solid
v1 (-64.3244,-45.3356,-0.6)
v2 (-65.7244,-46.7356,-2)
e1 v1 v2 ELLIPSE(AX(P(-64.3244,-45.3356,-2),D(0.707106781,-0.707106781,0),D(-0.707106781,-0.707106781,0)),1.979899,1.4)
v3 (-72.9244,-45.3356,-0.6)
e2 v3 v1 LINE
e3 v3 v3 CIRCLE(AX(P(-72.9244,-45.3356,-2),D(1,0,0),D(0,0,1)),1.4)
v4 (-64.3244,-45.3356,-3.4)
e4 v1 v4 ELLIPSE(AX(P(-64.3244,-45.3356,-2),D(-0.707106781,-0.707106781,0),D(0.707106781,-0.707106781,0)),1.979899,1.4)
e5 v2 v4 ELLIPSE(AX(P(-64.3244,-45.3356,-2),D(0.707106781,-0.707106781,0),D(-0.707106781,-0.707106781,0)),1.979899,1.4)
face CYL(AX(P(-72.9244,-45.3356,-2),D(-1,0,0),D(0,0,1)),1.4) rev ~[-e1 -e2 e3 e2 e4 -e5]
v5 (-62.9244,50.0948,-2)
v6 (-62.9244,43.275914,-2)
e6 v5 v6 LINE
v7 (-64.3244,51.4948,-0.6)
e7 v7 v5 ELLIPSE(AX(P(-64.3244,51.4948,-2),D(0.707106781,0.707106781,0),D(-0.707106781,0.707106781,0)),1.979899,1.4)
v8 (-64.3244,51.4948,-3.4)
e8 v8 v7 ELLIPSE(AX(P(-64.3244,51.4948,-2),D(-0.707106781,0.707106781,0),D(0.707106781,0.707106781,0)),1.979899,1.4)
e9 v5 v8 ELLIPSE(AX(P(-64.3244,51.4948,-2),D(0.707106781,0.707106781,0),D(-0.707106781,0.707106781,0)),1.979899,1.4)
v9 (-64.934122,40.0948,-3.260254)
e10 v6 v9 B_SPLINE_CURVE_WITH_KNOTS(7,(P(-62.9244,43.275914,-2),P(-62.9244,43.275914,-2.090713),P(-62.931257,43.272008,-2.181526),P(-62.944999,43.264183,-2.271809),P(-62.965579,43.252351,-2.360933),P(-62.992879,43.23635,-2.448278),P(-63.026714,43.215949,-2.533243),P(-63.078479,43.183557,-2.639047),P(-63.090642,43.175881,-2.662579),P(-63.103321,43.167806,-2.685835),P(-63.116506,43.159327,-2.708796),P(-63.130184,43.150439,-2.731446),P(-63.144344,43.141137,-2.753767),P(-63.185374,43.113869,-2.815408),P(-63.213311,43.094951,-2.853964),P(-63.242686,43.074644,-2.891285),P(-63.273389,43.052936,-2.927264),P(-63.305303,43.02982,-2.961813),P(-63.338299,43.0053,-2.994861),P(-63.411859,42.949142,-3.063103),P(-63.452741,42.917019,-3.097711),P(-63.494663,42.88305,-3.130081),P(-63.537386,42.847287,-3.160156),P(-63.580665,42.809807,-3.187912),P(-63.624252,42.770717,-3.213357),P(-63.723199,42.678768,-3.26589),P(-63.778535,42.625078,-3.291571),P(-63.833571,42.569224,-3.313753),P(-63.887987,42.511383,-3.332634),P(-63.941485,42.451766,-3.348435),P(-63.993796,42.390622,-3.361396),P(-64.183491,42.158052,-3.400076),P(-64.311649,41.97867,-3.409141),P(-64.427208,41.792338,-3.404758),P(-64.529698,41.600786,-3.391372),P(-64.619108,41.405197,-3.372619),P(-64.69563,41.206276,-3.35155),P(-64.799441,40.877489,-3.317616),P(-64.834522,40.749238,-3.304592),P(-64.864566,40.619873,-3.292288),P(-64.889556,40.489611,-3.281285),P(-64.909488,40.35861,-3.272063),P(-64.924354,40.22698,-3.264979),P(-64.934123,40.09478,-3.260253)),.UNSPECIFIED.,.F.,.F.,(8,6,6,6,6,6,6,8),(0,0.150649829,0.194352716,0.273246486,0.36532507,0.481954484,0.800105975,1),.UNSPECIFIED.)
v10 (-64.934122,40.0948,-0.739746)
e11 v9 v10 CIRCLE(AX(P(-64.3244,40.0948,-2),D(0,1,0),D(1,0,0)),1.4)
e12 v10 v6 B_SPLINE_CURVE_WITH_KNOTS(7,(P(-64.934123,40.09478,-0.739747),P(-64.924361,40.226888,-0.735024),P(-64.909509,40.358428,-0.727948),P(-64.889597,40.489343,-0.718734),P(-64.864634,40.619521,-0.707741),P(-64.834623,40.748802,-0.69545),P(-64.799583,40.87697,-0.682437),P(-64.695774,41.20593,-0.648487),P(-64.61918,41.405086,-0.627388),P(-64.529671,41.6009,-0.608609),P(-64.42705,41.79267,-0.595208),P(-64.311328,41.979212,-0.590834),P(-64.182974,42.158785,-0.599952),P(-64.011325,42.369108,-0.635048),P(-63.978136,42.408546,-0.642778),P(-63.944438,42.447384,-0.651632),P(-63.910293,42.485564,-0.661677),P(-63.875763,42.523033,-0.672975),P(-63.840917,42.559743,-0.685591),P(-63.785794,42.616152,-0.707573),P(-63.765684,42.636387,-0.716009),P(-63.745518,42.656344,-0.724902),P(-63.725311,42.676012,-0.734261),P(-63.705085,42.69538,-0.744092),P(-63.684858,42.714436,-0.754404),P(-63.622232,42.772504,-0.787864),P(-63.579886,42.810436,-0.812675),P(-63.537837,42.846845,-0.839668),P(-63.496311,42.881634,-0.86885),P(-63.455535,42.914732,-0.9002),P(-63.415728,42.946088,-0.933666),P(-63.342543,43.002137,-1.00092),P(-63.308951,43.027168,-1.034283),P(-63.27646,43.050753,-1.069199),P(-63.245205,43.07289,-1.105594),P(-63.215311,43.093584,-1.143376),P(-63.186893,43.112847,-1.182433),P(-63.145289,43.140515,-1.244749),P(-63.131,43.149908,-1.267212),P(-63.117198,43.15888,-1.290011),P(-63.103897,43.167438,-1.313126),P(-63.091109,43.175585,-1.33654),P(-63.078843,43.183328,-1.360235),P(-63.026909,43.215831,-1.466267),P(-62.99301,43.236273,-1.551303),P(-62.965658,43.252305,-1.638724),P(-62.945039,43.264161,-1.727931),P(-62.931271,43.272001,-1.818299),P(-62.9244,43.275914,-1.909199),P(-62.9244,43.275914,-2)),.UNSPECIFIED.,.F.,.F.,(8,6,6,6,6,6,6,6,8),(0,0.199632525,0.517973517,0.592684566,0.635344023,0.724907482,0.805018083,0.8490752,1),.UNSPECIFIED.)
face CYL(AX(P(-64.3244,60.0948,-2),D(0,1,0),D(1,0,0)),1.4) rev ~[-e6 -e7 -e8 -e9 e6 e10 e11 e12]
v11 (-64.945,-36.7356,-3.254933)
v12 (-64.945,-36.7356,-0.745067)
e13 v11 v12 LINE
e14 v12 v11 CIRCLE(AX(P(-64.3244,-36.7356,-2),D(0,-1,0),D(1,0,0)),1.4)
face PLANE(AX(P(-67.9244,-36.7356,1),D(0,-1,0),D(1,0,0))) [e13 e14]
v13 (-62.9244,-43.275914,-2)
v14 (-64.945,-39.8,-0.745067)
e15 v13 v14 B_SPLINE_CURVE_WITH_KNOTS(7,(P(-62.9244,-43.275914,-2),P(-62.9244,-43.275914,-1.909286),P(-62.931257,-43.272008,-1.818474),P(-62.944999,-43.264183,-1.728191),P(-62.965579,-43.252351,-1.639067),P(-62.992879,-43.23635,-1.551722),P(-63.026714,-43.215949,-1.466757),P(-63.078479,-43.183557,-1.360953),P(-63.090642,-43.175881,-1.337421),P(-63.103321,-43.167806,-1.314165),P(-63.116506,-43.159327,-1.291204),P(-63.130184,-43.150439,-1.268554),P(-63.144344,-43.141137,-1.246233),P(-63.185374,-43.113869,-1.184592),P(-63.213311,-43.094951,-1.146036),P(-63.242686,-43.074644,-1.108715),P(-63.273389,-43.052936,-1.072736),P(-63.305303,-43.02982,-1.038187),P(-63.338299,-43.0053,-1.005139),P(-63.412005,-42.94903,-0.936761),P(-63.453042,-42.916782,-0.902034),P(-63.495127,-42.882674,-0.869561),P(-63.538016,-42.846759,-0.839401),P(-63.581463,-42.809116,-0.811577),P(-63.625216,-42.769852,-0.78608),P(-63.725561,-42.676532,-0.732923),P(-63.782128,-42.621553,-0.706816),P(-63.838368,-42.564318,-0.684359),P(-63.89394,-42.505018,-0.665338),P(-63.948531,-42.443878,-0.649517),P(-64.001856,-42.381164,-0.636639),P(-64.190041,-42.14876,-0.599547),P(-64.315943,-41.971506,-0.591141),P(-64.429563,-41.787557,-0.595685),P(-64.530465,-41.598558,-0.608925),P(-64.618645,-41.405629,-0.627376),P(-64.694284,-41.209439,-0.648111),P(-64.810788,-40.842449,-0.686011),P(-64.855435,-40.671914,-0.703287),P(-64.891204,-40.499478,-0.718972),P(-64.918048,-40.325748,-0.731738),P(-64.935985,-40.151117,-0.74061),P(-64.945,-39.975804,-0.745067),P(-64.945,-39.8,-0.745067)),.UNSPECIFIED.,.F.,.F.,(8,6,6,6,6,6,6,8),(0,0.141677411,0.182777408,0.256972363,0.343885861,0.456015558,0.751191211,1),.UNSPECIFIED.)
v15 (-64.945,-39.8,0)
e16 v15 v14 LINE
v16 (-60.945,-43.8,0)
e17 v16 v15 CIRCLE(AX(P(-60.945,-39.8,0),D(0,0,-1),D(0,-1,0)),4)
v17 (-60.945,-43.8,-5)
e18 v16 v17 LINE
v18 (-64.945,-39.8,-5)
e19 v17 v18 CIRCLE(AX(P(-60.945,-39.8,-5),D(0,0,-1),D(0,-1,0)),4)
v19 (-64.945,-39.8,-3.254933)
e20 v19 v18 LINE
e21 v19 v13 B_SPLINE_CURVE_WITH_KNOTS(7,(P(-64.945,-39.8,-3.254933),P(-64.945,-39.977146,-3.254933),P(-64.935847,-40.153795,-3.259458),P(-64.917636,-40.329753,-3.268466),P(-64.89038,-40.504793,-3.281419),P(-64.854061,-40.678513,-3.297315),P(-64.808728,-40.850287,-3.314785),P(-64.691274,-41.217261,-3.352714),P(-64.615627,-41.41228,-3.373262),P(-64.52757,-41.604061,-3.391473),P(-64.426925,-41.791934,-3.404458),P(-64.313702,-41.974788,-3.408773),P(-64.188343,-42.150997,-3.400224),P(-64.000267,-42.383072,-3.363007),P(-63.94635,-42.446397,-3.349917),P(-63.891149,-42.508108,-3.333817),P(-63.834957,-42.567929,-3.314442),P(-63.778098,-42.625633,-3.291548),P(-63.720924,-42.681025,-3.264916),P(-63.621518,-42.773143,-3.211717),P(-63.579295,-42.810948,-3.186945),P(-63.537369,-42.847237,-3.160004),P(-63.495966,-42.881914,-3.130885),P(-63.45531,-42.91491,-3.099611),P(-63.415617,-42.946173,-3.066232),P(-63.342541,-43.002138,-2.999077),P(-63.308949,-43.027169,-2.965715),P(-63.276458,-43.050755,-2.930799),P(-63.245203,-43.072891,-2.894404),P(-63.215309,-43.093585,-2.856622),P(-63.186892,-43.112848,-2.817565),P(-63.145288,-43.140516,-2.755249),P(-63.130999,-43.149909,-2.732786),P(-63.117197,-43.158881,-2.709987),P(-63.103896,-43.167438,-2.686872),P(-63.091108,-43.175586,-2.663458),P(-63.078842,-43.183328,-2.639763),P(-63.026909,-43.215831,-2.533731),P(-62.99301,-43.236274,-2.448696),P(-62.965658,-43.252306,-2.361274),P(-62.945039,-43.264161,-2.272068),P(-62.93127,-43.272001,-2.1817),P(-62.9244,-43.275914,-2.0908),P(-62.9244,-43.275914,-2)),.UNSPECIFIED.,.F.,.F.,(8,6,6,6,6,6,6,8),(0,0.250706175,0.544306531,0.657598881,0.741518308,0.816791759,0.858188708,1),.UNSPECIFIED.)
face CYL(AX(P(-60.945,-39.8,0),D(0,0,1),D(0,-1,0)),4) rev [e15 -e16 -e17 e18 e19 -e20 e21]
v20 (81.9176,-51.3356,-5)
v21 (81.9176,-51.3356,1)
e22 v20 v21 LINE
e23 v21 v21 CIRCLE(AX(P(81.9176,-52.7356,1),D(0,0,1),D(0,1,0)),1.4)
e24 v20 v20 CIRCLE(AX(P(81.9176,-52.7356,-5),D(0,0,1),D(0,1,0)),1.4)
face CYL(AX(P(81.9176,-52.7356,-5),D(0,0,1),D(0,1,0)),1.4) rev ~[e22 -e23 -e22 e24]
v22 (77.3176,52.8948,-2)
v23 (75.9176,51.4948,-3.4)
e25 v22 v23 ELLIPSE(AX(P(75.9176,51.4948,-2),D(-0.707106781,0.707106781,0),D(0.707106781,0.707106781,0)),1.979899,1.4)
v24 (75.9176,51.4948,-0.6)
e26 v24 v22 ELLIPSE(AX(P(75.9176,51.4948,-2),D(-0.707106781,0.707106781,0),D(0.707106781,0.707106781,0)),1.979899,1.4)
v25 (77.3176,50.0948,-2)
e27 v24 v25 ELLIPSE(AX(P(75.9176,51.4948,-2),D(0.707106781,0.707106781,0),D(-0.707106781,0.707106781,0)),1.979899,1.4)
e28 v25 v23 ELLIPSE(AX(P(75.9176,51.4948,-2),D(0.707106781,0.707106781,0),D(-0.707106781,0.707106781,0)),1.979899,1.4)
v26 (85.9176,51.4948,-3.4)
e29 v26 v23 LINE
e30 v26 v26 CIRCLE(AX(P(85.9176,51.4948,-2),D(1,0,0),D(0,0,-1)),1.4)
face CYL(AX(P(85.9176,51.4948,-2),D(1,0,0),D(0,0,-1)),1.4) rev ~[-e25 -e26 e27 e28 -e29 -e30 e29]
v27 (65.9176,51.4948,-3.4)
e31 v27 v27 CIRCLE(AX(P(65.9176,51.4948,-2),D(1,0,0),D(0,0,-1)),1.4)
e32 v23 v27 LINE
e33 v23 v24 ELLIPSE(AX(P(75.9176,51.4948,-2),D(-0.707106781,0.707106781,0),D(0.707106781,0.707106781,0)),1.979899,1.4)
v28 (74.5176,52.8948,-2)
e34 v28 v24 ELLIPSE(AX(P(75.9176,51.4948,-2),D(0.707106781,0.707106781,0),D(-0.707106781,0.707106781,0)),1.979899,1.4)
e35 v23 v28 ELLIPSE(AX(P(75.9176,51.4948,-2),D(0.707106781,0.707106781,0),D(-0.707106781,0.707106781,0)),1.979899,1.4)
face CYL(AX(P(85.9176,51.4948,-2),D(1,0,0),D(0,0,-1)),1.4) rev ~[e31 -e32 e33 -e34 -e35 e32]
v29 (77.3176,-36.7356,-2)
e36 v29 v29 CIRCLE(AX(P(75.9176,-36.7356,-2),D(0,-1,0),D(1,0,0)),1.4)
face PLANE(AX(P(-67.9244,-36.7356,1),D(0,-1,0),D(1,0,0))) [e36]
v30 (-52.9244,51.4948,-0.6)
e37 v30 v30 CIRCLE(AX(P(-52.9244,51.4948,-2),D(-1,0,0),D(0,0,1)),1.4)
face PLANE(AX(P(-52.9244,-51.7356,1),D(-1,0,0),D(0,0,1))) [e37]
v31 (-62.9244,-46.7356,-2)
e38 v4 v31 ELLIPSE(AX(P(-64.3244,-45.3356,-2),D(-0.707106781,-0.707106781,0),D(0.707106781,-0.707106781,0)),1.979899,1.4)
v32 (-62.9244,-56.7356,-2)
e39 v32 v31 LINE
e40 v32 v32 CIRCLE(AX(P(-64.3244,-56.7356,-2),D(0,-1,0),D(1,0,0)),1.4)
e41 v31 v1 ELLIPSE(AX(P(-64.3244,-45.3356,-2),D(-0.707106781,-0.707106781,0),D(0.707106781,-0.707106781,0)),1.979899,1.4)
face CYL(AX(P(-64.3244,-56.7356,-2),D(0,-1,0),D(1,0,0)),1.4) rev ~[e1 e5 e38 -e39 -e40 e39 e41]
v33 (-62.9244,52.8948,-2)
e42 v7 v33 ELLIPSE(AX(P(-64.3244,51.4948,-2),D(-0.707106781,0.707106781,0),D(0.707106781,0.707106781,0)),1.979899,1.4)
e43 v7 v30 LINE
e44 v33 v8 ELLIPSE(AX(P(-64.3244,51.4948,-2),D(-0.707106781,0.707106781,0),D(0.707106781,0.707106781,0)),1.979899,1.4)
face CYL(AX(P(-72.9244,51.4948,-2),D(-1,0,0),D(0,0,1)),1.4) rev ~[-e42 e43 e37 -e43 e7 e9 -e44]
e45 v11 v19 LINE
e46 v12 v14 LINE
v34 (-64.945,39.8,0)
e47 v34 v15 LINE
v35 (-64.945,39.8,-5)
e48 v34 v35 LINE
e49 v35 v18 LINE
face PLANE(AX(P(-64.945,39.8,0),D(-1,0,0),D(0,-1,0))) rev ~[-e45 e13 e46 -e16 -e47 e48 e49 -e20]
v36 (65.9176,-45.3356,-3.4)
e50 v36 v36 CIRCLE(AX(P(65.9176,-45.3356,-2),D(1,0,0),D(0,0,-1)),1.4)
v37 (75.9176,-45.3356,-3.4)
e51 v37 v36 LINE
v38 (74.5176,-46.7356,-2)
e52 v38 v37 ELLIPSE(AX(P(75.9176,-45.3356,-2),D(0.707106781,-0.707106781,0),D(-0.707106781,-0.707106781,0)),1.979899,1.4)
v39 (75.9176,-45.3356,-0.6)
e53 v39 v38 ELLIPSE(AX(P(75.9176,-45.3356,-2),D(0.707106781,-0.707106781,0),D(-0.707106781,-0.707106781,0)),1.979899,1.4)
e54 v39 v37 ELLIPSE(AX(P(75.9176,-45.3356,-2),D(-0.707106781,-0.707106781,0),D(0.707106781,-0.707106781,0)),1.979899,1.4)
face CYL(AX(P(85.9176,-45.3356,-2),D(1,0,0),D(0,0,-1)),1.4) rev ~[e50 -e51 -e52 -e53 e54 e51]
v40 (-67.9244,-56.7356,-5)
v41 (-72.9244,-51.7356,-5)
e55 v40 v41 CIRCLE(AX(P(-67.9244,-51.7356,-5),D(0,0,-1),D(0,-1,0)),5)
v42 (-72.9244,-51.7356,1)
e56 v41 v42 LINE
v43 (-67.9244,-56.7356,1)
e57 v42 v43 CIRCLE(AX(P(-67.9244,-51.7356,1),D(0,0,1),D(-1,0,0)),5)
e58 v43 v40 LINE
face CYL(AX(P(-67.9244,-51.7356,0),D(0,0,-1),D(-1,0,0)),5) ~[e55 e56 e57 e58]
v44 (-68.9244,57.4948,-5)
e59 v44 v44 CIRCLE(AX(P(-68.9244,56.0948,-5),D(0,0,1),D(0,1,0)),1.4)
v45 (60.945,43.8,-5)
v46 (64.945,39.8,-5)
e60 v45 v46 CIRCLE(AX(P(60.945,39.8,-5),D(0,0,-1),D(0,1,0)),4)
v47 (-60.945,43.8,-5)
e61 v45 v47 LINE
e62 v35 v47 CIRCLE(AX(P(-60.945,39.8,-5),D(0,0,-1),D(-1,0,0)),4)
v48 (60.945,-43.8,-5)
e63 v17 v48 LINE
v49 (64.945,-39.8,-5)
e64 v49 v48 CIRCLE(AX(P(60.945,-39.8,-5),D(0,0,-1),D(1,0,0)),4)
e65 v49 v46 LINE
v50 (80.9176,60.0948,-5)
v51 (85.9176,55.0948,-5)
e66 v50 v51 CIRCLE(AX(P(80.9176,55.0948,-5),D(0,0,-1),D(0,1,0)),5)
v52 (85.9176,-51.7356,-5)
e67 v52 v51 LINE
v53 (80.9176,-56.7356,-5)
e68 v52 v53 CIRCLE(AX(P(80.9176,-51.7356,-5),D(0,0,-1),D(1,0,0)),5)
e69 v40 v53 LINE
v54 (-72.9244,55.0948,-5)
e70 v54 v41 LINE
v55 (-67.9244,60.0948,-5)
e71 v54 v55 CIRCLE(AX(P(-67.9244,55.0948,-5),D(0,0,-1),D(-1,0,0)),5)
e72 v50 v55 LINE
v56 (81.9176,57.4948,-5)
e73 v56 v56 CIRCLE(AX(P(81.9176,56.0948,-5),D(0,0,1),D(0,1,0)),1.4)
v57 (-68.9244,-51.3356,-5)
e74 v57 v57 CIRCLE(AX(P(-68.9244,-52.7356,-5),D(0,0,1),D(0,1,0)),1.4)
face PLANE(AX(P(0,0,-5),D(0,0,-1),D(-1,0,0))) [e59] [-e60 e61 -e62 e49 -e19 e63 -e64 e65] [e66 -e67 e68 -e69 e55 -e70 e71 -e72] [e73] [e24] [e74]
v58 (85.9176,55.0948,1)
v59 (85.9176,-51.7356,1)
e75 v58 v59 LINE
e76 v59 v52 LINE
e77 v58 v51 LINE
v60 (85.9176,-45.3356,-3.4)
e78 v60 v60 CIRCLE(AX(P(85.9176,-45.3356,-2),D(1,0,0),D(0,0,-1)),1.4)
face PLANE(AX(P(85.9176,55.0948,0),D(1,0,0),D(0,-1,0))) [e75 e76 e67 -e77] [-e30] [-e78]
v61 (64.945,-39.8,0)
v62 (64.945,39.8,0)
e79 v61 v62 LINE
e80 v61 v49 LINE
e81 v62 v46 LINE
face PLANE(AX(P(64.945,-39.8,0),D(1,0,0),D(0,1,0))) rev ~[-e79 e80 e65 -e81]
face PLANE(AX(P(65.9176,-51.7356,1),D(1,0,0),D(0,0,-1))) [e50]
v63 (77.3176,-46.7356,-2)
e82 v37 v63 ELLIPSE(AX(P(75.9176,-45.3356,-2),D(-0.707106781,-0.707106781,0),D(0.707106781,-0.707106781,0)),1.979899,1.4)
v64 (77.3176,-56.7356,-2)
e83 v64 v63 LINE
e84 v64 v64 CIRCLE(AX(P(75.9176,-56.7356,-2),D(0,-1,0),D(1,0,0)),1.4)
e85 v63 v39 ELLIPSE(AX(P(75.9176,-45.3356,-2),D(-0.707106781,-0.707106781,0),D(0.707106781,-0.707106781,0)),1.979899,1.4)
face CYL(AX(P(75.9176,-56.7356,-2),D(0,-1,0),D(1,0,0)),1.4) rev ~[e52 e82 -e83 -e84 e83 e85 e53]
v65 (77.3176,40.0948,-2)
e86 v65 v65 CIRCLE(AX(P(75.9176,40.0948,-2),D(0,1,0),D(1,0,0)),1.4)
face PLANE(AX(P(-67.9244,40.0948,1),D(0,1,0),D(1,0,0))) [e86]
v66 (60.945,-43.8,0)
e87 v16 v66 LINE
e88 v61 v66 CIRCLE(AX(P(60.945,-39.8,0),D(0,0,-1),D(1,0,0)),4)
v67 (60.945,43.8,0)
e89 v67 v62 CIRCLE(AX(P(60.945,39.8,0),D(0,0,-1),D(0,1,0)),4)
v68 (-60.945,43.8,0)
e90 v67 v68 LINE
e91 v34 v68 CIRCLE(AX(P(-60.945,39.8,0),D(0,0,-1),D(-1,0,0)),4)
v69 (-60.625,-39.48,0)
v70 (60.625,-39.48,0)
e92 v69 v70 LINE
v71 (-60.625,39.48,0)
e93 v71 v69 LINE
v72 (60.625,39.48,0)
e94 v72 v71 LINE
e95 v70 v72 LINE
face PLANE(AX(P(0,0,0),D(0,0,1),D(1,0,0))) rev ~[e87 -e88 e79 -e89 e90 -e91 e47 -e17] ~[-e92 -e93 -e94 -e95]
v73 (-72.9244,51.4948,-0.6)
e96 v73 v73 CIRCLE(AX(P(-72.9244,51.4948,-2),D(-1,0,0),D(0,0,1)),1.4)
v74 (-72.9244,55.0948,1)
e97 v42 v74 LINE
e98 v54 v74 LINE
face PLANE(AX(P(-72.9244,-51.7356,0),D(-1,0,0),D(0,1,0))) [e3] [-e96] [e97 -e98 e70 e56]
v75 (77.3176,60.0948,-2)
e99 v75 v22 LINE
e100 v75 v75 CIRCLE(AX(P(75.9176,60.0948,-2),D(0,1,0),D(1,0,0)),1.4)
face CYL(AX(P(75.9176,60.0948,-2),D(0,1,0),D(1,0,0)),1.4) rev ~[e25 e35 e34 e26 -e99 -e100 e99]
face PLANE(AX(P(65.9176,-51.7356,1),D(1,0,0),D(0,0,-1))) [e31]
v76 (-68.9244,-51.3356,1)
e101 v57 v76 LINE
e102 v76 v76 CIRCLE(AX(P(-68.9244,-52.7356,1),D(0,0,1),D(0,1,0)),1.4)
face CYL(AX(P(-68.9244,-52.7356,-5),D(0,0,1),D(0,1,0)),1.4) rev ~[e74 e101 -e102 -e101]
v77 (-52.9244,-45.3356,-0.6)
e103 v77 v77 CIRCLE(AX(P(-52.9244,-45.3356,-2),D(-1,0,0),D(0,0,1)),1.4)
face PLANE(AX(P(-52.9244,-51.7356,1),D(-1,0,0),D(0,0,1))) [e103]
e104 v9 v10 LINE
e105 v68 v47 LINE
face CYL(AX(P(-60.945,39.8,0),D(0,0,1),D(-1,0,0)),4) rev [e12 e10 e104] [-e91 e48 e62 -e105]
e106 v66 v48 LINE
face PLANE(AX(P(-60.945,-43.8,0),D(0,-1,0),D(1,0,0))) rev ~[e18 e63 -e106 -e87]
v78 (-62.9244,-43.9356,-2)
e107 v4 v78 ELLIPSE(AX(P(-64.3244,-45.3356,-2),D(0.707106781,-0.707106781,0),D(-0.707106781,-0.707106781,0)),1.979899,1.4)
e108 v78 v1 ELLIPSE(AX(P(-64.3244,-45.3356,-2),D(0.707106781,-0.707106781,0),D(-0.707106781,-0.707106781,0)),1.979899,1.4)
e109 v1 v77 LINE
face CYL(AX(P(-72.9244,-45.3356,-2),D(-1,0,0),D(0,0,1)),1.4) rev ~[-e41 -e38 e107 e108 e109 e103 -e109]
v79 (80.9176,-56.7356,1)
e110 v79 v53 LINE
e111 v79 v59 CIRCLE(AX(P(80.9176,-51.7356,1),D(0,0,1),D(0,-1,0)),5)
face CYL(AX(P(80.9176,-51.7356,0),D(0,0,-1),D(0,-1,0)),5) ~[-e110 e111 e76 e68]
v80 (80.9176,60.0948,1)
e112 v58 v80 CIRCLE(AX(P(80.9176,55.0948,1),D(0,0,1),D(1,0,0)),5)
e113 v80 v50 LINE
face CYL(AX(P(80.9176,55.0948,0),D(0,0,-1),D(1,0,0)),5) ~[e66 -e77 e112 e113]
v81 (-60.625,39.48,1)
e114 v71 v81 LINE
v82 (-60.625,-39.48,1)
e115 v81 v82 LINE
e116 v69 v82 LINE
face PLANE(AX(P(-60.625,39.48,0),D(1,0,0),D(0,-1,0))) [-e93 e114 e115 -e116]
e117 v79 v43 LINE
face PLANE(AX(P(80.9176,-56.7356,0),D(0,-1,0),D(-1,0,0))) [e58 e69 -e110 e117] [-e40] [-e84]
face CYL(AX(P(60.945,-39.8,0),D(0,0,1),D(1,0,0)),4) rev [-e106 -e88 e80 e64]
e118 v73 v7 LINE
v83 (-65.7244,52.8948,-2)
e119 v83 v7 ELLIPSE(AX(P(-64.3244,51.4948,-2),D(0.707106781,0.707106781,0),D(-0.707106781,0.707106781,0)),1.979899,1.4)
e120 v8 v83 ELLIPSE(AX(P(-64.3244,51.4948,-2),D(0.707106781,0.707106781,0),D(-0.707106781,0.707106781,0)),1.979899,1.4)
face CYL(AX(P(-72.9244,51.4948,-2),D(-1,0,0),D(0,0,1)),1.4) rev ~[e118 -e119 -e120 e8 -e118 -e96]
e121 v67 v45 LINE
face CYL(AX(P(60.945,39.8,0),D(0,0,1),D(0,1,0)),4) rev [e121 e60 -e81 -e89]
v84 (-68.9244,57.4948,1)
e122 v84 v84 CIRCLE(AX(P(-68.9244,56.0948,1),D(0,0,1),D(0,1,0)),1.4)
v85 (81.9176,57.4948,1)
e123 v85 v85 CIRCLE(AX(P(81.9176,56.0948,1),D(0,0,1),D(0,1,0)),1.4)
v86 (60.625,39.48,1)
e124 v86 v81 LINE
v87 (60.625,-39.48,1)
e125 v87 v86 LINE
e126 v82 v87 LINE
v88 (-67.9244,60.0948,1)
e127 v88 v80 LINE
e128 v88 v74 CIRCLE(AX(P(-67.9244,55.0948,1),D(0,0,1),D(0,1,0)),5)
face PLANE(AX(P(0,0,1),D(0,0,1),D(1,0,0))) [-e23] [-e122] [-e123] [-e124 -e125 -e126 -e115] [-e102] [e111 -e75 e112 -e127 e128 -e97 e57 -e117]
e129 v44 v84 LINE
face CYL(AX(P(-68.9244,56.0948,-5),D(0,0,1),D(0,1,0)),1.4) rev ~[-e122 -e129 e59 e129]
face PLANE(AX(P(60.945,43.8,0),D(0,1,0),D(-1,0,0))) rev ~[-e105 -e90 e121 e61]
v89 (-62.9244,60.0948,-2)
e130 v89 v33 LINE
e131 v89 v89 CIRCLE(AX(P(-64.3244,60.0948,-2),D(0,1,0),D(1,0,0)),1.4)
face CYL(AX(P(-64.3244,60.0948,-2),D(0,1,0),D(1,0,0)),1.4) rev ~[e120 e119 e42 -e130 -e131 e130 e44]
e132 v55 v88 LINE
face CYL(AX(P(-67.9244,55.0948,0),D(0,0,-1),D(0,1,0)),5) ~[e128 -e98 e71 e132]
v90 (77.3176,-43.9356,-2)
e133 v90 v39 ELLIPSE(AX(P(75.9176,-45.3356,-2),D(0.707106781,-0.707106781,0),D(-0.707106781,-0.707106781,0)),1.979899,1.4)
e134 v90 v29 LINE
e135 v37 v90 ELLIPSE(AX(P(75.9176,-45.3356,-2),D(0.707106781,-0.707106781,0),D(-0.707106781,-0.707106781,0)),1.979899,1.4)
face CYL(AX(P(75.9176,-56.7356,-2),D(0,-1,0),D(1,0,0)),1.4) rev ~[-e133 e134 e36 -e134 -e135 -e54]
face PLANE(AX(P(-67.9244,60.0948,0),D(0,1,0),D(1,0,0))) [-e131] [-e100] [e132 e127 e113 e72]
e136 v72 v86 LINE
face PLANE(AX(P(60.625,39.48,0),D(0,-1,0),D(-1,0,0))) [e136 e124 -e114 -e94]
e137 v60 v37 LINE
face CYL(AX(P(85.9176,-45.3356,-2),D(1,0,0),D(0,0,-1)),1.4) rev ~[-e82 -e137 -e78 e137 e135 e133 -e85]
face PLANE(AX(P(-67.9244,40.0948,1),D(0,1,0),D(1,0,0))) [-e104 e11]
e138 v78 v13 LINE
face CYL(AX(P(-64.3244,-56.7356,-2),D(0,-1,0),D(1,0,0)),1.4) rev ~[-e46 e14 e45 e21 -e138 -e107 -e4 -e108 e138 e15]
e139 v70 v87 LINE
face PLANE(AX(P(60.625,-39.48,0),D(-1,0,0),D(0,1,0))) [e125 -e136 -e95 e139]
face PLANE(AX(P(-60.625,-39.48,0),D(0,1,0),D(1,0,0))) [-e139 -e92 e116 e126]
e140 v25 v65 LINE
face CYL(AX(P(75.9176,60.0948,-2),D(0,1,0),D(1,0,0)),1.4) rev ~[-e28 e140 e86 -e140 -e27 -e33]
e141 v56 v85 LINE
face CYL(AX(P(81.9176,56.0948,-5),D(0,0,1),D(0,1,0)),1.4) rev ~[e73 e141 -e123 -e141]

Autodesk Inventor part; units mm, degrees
ref_plane "YZ Plane" through (0, 0, 0) normal (1, 0, 0) x (0, 1, 0)
ref_plane "XZ Plane" through (0, 0, 0) normal (0, 1, 0) x (-1, 0, 0)
ref_plane "XY Plane" through (0, 0, 0) normal (0, 0, 1) x (1, 0, 0)
sketch "Skizze1" plane through (0, 0, 0) normal (0, 0, 1) x (1, 0, 0)
  line L0 (63.945, 39.8) -> (63.945, -39.8) construction
  arc A0 (63.945, 39.8) -> (60.945, 42.8) centre (60.945, 39.8) ccw construction
  line L1 (-60.945, 42.8) -> (60.945, 42.8) construction
  arc A1 (-60.945, 42.8) -> (-63.945, 39.8) centre (-60.945, 39.8) ccw construction
  line L2 (-63.945, -39.8) -> (-63.945, 39.8) construction
  arc A2 (-63.945, -39.8) -> (-60.945, -42.8) centre (-60.945, -39.8) ccw construction
  line L3 (60.945, -42.8) -> (-60.945, -42.8) construction
  arc A3 (60.945, -42.8) -> (63.945, -39.8) centre (60.945, -39.8) ccw construction
  line L4 (-63.625, -39.48) -> (-63.625, 39.48) construction
  arc A4 (-60.625, 42.48) -> (-63.625, 39.48) centre (-60.625, 39.48) ccw construction
  line L5 (-60.625, 42.48) -> (60.625, 42.48) construction
  arc A5 (63.625, 39.48) -> (60.625, 42.48) centre (60.625, 39.48) ccw construction
  line L6 (63.625, 39.48) -> (63.625, -39.48) construction
  arc A6 (60.625, -42.48) -> (63.625, -39.48) centre (60.625, -39.48) ccw construction
  line L7 (60.625, -42.48) -> (-60.625, -42.48) construction
  arc A7 (-63.625, -39.48) -> (-60.625, -42.48) centre (-60.625, -39.48) ccw construction
  line L8 (-62.625, 39.48) -> (-62.625, -39.48) construction
  arc A8 (-62.625, -39.48) -> (-60.625, -41.48) centre (-60.625, -39.48) ccw construction
  line L9 (-60.625, -41.48) -> (60.625, -41.48) construction
  arc A9 (60.625, -41.48) -> (62.625, -39.48) centre (60.625, -39.48) ccw construction
  line L10 (62.625, -39.48) -> (62.625, 39.48) construction
  arc A10 (62.625, 39.48) -> (60.625, 41.48) centre (60.625, 39.48) ccw construction
  line L11 (60.625, 41.48) -> (-60.625, 41.48) construction
  arc A11 (-60.625, 41.48) -> (-62.625, 39.48) centre (-60.625, 39.48) ccw construction
  line L12 (75.9176, 38) -> (78.9176, 41) construction
  line L13 (75.9176, 38) -> (66.9176, 38) construction
  line L14 (63.9176, 35) -> (66.9176, 38) construction
  line L15 (63.9176, 35) -> (63.9176, -34.9) construction
  line L16 (66.9176, -37.9) -> (63.9176, -34.9) construction
  line L17 (66.9176, -37.9) -> (75.9176, -37.9) construction
  line L18 (78.9176, -40.9) -> (75.9176, -37.9) construction
  line L19 (78.9176, -40.9) -> (78.9176, -45.7356) construction
  arc A12 (74.9176, -49.7356) -> (78.9176, -45.7356) centre (74.9176, -45.7356) ccw construction
  line L20 (74.9176, -49.7356) -> (-61.9244, -49.7356) construction
  arc A13 (-65.9244, -45.7356) -> (-61.9244, -49.7356) centre (-61.9244, -45.7356) ccw projected
  line L21 (-65.9244, -45.7356) -> (-65.9244, -40.9) projected
  line L22 (-62.9244, -37.9) -> (-65.9244, -40.9) projected
  line L23 (-62.9244, -37.9) -> (-58.9244, -37.9) construction
  line L24 (-55.9244, -34.9) -> (-58.9244, -37.9) construction
  line L25 (-55.9244, -34.9) -> (-55.9244, 35) construction
  line L26 (-58.9244, 38) -> (-55.9244, 35) construction
  line L27 (-58.9244, 38) -> (-62.9244, 38) construction
  line L28 (-65.9244, 41) -> (-62.9244, 38) projected
  line L29 (-65.9244, 41) -> (-65.9244, 49.0948) projected
  arc A14 (-61.9244, 53.0948) -> (-65.9244, 49.0948) centre (-61.9244, 49.0948) ccw projected
  line L30 (-61.9244, 53.0948) -> (74.9176, 53.0948) construction
  arc A15 (78.9176, 49.0948) -> (74.9176, 53.0948) centre (74.9176, 49.0948) ccw construction
  line L31 (78.9176, 49.0948) -> (78.9176, 41) construction
  circle A16 centre (-62.4244, 49.5948) radius 1.4 construction
  circle A17 centre (-62.4244, -46.2356) radius 1.4 construction
  circle A18 centre (75.4176, -46.2356) radius 1.4 construction
  circle A19 centre (75.4176, 49.5948) radius 1.5 construction
  circle A20 centre (45.2899, -42.9) radius 1.4 construction
  circle A21 centre (45.2899, 43) radius 1.4 construction
  line L32 (54.6, 38) -> (44.6, 38) construction
  line L33 (44.6, 38) -> (44.6, -37.9) construction
  line L34 (44.6, -37.9) -> (54.6, -37.9) construction
  line L35 (54.6, -37.9) -> (54.6, 38) construction
  circle A22 centre (26.5899, 43) radius 1.4 construction
  circle A23 centre (26.5899, -42.9) radius 1.4 construction
  line L36 (25.9, -37.9) -> (35.9, -37.9) construction
  line L37 (35.9, -37.9) -> (35.9, 38) construction
  line L38 (35.9, 38) -> (25.9, 38) construction
  line L39 (25.9, 38) -> (25.9, -37.9) construction
  circle A24 centre (7.8899, 43) radius 1.4 construction
  circle A25 centre (7.8899, -42.9) radius 1.4 construction
  line L40 (7.2, -37.9) -> (17.2, -37.9) construction
  line L41 (17.2, -37.9) -> (17.2, 38) construction
  line L42 (17.2, 38) -> (7.2, 38) construction
  line L43 (7.2, 38) -> (7.2, -37.9) construction
  circle A26 centre (-10.8101, 43) radius 1.4 construction
  circle A27 centre (-10.8101, -42.9) radius 1.4 construction
  line L44 (-11.5, -37.9) -> (-1.5, -37.9) construction
  line L45 (-1.5, -37.9) -> (-1.5, 38) construction
  line L46 (-1.5, 38) -> (-11.5, 38) construction
  line L47 (-11.5, 38) -> (-11.5, -37.9) construction
  circle A28 centre (-29.5101, 43) radius 1.4 construction
  circle A29 centre (-29.5101, -42.9) radius 1.4 construction
  line L48 (-30.2, -37.9) -> (-20.2, -37.9) construction
  line L49 (-20.2, -37.9) -> (-20.2, 38) construction
  line L50 (-20.2, 38) -> (-30.2, 38) construction
  line L51 (-30.2, 38) -> (-30.2, -37.9) construction
  circle A30 centre (-48.2101, 43) radius 1.4 construction
  circle A31 centre (-48.2101, -42.9) radius 1.4 construction
  line L52 (-48.9, -37.9) -> (-38.9, -37.9) construction
  line L53 (-38.9, -37.9) -> (-38.9, 38) construction
  line L54 (-38.9, 38) -> (-48.9, 38) construction
  line L55 (-48.9, 38) -> (-48.9, -37.9) construction
  line L56 (74.9176, 55.0948) -> (-61.9244, 55.0948) construction
  arc A32 (-61.9244, 55.0948) -> (-67.9244, 49.0948) centre (-61.9244, 49.0948) ccw
  line L57 (-67.9244, 49.0948) -> (-67.9244, 40.1716)
  line L58 (-67.9244, 40.1716) -> (-63.7528, 36)
  line L59 (-63.7528, 36) -> (-59.7528, 36) construction
  line L60 (-59.7528, 36) -> (-57.9244, 34.1716) construction
  line L61 (-57.9244, 34.1716) -> (-57.9244, -34.0716) construction
  line L62 (-57.9244, -34.0716) -> (-59.7528, -35.9) construction
  line L63 (-59.7528, -35.9) -> (-63.7528, -35.9) construction
  line L64 (-63.7528, -35.9) -> (-67.9244, -40.0716)
  line L65 (-67.9244, -40.0716) -> (-67.9244, -45.7356)
  arc A33 (-67.9244, -45.7356) -> (-61.9244, -51.7356) centre (-61.9244, -45.7356) ccw
  line L66 (-61.9244, -51.7356) -> (74.9176, -51.7356) construction
  arc A34 (74.9176, -51.7356) -> (80.9176, -45.7356) centre (74.9176, -45.7356) ccw construction
  line L67 (80.9176, -45.7356) -> (80.9176, -40.0716) construction
  line L68 (80.9176, -40.0716) -> (76.746, -35.9) construction
  line L69 (76.746, -35.9) -> (67.746, -35.9) construction
  line L70 (67.746, -35.9) -> (65.9176, -34.0716) construction
  line L71 (65.9176, -34.0716) -> (65.9176, 34.1716) construction
  line L72 (65.9176, 34.1716) -> (67.746, 36) construction
  line L73 (67.746, 36) -> (76.746, 36) construction
  line L74 (76.746, 36) -> (80.9176, 40.1716) construction
  line L75 (80.9176, 40.1716) -> (80.9176, 49.0948) construction
  arc A35 (80.9176, 49.0948) -> (74.9176, 55.0948) centre (74.9176, 49.0948) ccw construction
  line L76 (-61.9244, 60.0948) -> (74.9176, 60.0948) construction
  arc A36 (85.9176, 49.0948) -> (74.9176, 60.0948) centre (74.9176, 49.0948) ccw construction
  line L77 (85.9176, 49.0948) -> (85.9176, 38.1005) construction
  line L78 (85.9176, 38.1005) -> (78.8171, 31) construction
  line L79 (78.8171, 31) -> (70.9176, 31) construction
  line L80 (70.9176, 31) -> (70.9176, -30.9) construction
  line L81 (70.9176, -30.9) -> (78.8171, -30.9) construction
  line L82 (78.8171, -30.9) -> (85.9176, -38.0005) construction
  line L83 (85.9176, -38.0005) -> (85.9176, -45.7356) construction
  arc A37 (74.9176, -56.7356) -> (85.9176, -45.7356) centre (74.9176, -45.7356) ccw construction
  line L84 (74.9176, -56.7356) -> (-61.9244, -56.7356) construction
  arc A38 (-72.9244, -45.7356) -> (-61.9244, -56.7356) centre (-61.9244, -45.7356) ccw construction
  line L85 (-72.9244, -45.7356) -> (-72.9244, -38.0005) construction
  line L86 (-72.9244, -38.0005) -> (-65.8239, -30.9) construction
  line L87 (-65.8239, -30.9) -> (-62.9244, -30.9) construction
  line L88 (-62.9244, -30.9) -> (-62.9244, 31) construction
  line L89 (-62.9244, 31) -> (-65.8239, 31) construction
  line L90 (-65.8239, 31) -> (-72.9244, 38.1005) construction
  line L91 (-72.9244, 38.1005) -> (-72.9244, 49.0948) construction
  arc A39 (-61.9244, 60.0948) -> (-72.9244, 49.0948) centre (-61.9244, 49.0948) ccw construction
  line L92 (-67.9244, 60.0948) -> (80.9176, 60.0948)
  line L93 (85.9176, 55.0948) -> (85.9176, -51.7356)
  line L94 (80.9176, -56.7356) -> (-67.9244, -56.7356)
  line L95 (-72.9244, -51.7356) -> (-72.9244, 55.0948)
  arc A40 (-67.9244, 60.0948) -> (-72.9244, 55.0948) centre (-67.9244, 55.0948) ccw
  arc A41 (85.9176, 55.0948) -> (80.9176, 60.0948) centre (80.9176, 55.0948) ccw
  arc A42 (80.9176, -56.7356) -> (85.9176, -51.7356) centre (80.9176, -51.7356) ccw
  arc A43 (-72.9244, -51.7356) -> (-67.9244, -56.7356) centre (-67.9244, -51.7356) ccw
  line L96 (-60.625, -39.48) -> (60.625, -39.48)
  line L97 (60.625, -39.48) -> (60.625, 39.48)
  line L98 (60.625, 39.48) -> (-60.625, 39.48)
  line L99 (-60.625, 39.48) -> (-60.625, -39.48)
  point P0 (0, 0)
  dimension "d0" = 1
  dimension "d1" = 2
  dimension "d2" = 5
  dimension "d3" = 5
extrude "Extrusion1" add sketch "Skizze1" along normal blind 1
sketch "Skizze2" plane through (0, 0, 0) normal (0, 0, -1) x (-1, 0, 0)
  line L0 (60.945, 42.8) -> (-60.945, 42.8) projected
  arc A0 (-60.945, 42.8) -> (-63.945, 39.8) centre (-60.945, 39.8) ccw projected
  line L1 (-63.945, 39.8) -> (-63.945, -39.8) projected
  arc A1 (-63.945, -39.8) -> (-60.945, -42.8) centre (-60.945, -39.8) ccw projected
  line L2 (-60.945, -42.8) -> (60.945, -42.8) projected
  arc A2 (60.945, -42.8) -> (63.945, -39.8) centre (60.945, -39.8) ccw projected
  line L3 (63.945, -39.8) -> (63.945, 39.8) projected
  arc A3 (63.945, 39.8) -> (60.945, 42.8) centre (60.945, 39.8) ccw projected
  line L4 (51.2024, 41.3) -> (-59.445, 41.3) projected
  arc A4 (53.3237, 40.4213) -> (51.2024, 41.3) centre (51.2024, 38.3) ccw projected
  line L5 (53.3237, 40.4213) -> (61.5663, 32.1787) projected
  arc A5 (62.445, 30.0574) -> (61.5663, 32.1787) centre (59.445, 30.0574) ccw projected
  line L6 (62.445, -30.0574) -> (62.445, 30.0574) projected
  arc A6 (61.5663, -32.1787) -> (62.445, -30.0574) centre (59.445, -30.0574) ccw projected
  line L7 (61.5663, -32.1787) -> (53.3237, -40.4213) projected
  arc A7 (51.2024, -41.3) -> (53.3237, -40.4213) centre (51.2024, -38.3) ccw projected
  line L8 (-59.445, -41.3) -> (51.2024, -41.3) projected
  arc A8 (-62.445, -38.3) -> (-59.445, -41.3) centre (-59.445, -38.3) ccw projected
  line L9 (-62.445, 38.3) -> (-62.445, -38.3) projected
  arc A9 (-59.445, 41.3) -> (-62.445, 38.3) centre (-59.445, 38.3) ccw projected
  line L10 (64.945, 39.8) -> (64.945, -39.8)
  arc A10 (60.945, -43.8) -> (64.945, -39.8) centre (60.945, -39.8) ccw
  line L11 (60.945, -43.8) -> (-60.945, -43.8)
  arc A11 (-64.945, -39.8) -> (-60.945, -43.8) centre (-60.945, -39.8) ccw
  line L12 (-64.945, -39.8) -> (-64.945, 39.8)
  arc A12 (-60.945, 43.8) -> (-64.945, 39.8) centre (-60.945, 39.8) ccw
  line L13 (-60.945, 43.8) -> (60.945, 43.8)
  arc A13 (64.945, 39.8) -> (60.945, 43.8) centre (60.945, 39.8) ccw
  line L14 (67.9244, -56.7356) -> (-80.9176, -56.7356) projected
  arc A14 (67.9244, -56.7356) -> (72.9244, -51.7356) centre (67.9244, -51.7356) ccw projected
  line L15 (72.9244, 55.0948) -> (72.9244, -51.7356) projected
  arc A15 (72.9244, 55.0948) -> (67.9244, 60.0948) centre (67.9244, 55.0948) ccw projected
  line L16 (-80.9176, 60.0948) -> (67.9244, 60.0948) projected
  arc A16 (-80.9176, 60.0948) -> (-85.9176, 55.0948) centre (-80.9176, 55.0948) ccw projected
  line L17 (-85.9176, -51.7356) -> (-85.9176, 55.0948) projected
  arc A17 (-85.9176, -51.7356) -> (-80.9176, -56.7356) centre (-80.9176, -51.7356) ccw projected
  line L18 (60.625, -39.48) -> (60.625, 39.48) projected
  line L19 (-60.625, -39.48) -> (60.625, -39.48) projected
  line L20 (-60.625, 39.48) -> (-60.625, -39.48) projected
  line L21 (60.625, 39.48) -> (-60.625, 39.48) projected
  point P0 (0, 0)
  dimension "d6" = 1
extrude "Extrusion2" add sketch "Skizze2" along normal blind 5 contours L14 A17 L17 A16 L16 A15 L15 A14
sketch "Skizze3" plane through (0, 0, -5) normal (0, 0, -1) x (-1, 0, 0)
  line L0 (67.9244, 60.0948) -> (-80.9176, 60.0948) projected
  arc A0 (-80.9176, 60.0948) -> (-85.9176, 55.0948) centre (-80.9176, 55.0948) ccw projected
  line L1 (-85.9176, 55.0948) -> (-85.9176, -51.7356) projected
  arc A1 (-85.9176, -51.7356) -> (-80.9176, -56.7356) centre (-80.9176, -51.7356) ccw projected
  line L2 (-80.9176, -56.7356) -> (67.9244, -56.7356) projected
  arc A2 (67.9244, -56.7356) -> (72.9244, -51.7356) centre (67.9244, -51.7356) ccw projected
  line L3 (72.9244, -51.7356) -> (72.9244, 55.0948) projected
  arc A3 (72.9244, 55.0948) -> (67.9244, 60.0948) centre (67.9244, 55.0948) ccw projected
  line L4 (-60.945, 43.8) -> (60.945, 43.8) projected
  arc A4 (64.945, 39.8) -> (60.945, 43.8) centre (60.945, 39.8) ccw projected
  line L5 (64.945, 39.8) -> (64.945, -39.8) projected
  arc A5 (60.945, -43.8) -> (64.945, -39.8) centre (60.945, -39.8) ccw projected
  line L6 (60.945, -43.8) -> (-60.945, -43.8) projected
  arc A6 (-64.945, -39.8) -> (-60.945, -43.8) centre (-60.945, -39.8) ccw projected
  line L7 (-64.945, -39.8) -> (-64.945, 39.8) projected
  arc A7 (-60.945, 43.8) -> (-64.945, 39.8) centre (-60.945, 39.8) ccw projected
  circle A8 centre (68.9244, -52.7356) radius 1.4
  circle A9 centre (68.9244, 56.0948) radius 1.4
  circle A10 centre (-81.9176, 56.0948) radius 1.4
  circle A11 centre (-81.9176, -52.7356) radius 1.4
  point P0 (0, 0)
  dimension "d9" = 2.8
  dimension "d10" = 2.8
  dimension "d11" = 2.8
  dimension "d12" = 2.8
  dimension "d13" = 4
  dimension "d14" = 4
  dimension "d15" = 4
  dimension "d16" = 4
  dimension "d17" = 4
  dimension "d18" = 4
  dimension "d19" = 4
  dimension "d20" = 4
hole "Bohrung1" at (-68.9244, -52.7356, -5) at (81.9176, -52.7356, -5) at (81.9176, 56.0948, -5) at (-68.9244, 56.0948, -5) direction (0, 0, 1) diameter 2.8 end through all
sketch "Skizze4" plane through (-67.9244, 60.0948, 1) normal (0, 1, 0) x (1, 0, 0)
  circle A0 centre (143.842, -102.2347) radius 1.4 projected
  circle A1 centre (5, -102.2347) radius 1.4 projected
  line L0 (148.842, -98.2347) -> (0, -98.2347) projected
  line L1 (0, -98.2347) -> (0, -106.2347) projected
  line L2 (148.842, -106.2347) -> (0, -106.2347) projected
  line L3 (148.842, -98.2347) -> (148.842, -106.2347) projected
  circle A2 centre (3.6, 3) radius 1.4
  line L4 (0, 6) -> (148.842, 6) projected
  circle A3 centre (143.842, 3) radius 1.4
  point P0 (67.9244, 1)
  dimension "d28" = 2.8
  dimension "d29" = 3
  dimension "d30" = 2.8
extrude "Extrusion3" cut sketch "Skizze4" against normal blind 20 contours A2 | A3
sketch "Skizze5" plane through (-67.9244, -56.7356, 1) normal (0, -1, 0) x (1, 0, 0)
  circle A0 centre (143.842, -3) radius 1.4 projected
  circle A1 centre (3.6, -3) radius 1.4 projected
  point P0 (67.9244, -1)
extrude "Extrusion4" cut sketch "Skizze5" against normal blind 20
sketch "Skizze6" plane through (85.9176, -51.7356, 1) normal (1, 0, 0) x (0, 0, -1)
  circle A0 centre (-102.2347, 101.8304) radius 1.4 projected
  circle A1 centre (-102.2347, 5) radius 1.4 projected
  circle A2 centre (3, 103.2304) radius 1.4
  line L0 (6, 106.8304) -> (6, 0) projected
  circle A3 centre (3, 6.4) radius 1.4
  point P0 (1, 51.7356)
  dimension "d35" = 2.8
  dimension "d36" = 3
  dimension "d37" = 2.8
extrude "Extrusion5" cut sketch "Skizze6" against normal blind 20 contours A2 | A3
sketch "Skizze7" plane through (-72.9244, -51.7356, 1) normal (-1, 0, 0) x (0, 0, 1)
  line L0 (-4.4, -5) -> (-4.4, 9.7956) projected
  circle A0 centre (-3, 6.4) radius 1.4 projected
  circle A1 centre (-3, 103.2304) radius 1.4 projected
  point P0 (-1, 51.7356)
extrude "Extrusion6" cut sketch "Skizze7" against normal blind 20
equation "\"d29\" = 0.5 * a3 + 0.5 * a2"
equation "\"d36\" = 0.5 * a3 + 0.5 * a2"
equation "\"a3\" = 5"
equation "\"a2\" = 1"
properties part number "Omniscope_USBC_Wellplatemount"
